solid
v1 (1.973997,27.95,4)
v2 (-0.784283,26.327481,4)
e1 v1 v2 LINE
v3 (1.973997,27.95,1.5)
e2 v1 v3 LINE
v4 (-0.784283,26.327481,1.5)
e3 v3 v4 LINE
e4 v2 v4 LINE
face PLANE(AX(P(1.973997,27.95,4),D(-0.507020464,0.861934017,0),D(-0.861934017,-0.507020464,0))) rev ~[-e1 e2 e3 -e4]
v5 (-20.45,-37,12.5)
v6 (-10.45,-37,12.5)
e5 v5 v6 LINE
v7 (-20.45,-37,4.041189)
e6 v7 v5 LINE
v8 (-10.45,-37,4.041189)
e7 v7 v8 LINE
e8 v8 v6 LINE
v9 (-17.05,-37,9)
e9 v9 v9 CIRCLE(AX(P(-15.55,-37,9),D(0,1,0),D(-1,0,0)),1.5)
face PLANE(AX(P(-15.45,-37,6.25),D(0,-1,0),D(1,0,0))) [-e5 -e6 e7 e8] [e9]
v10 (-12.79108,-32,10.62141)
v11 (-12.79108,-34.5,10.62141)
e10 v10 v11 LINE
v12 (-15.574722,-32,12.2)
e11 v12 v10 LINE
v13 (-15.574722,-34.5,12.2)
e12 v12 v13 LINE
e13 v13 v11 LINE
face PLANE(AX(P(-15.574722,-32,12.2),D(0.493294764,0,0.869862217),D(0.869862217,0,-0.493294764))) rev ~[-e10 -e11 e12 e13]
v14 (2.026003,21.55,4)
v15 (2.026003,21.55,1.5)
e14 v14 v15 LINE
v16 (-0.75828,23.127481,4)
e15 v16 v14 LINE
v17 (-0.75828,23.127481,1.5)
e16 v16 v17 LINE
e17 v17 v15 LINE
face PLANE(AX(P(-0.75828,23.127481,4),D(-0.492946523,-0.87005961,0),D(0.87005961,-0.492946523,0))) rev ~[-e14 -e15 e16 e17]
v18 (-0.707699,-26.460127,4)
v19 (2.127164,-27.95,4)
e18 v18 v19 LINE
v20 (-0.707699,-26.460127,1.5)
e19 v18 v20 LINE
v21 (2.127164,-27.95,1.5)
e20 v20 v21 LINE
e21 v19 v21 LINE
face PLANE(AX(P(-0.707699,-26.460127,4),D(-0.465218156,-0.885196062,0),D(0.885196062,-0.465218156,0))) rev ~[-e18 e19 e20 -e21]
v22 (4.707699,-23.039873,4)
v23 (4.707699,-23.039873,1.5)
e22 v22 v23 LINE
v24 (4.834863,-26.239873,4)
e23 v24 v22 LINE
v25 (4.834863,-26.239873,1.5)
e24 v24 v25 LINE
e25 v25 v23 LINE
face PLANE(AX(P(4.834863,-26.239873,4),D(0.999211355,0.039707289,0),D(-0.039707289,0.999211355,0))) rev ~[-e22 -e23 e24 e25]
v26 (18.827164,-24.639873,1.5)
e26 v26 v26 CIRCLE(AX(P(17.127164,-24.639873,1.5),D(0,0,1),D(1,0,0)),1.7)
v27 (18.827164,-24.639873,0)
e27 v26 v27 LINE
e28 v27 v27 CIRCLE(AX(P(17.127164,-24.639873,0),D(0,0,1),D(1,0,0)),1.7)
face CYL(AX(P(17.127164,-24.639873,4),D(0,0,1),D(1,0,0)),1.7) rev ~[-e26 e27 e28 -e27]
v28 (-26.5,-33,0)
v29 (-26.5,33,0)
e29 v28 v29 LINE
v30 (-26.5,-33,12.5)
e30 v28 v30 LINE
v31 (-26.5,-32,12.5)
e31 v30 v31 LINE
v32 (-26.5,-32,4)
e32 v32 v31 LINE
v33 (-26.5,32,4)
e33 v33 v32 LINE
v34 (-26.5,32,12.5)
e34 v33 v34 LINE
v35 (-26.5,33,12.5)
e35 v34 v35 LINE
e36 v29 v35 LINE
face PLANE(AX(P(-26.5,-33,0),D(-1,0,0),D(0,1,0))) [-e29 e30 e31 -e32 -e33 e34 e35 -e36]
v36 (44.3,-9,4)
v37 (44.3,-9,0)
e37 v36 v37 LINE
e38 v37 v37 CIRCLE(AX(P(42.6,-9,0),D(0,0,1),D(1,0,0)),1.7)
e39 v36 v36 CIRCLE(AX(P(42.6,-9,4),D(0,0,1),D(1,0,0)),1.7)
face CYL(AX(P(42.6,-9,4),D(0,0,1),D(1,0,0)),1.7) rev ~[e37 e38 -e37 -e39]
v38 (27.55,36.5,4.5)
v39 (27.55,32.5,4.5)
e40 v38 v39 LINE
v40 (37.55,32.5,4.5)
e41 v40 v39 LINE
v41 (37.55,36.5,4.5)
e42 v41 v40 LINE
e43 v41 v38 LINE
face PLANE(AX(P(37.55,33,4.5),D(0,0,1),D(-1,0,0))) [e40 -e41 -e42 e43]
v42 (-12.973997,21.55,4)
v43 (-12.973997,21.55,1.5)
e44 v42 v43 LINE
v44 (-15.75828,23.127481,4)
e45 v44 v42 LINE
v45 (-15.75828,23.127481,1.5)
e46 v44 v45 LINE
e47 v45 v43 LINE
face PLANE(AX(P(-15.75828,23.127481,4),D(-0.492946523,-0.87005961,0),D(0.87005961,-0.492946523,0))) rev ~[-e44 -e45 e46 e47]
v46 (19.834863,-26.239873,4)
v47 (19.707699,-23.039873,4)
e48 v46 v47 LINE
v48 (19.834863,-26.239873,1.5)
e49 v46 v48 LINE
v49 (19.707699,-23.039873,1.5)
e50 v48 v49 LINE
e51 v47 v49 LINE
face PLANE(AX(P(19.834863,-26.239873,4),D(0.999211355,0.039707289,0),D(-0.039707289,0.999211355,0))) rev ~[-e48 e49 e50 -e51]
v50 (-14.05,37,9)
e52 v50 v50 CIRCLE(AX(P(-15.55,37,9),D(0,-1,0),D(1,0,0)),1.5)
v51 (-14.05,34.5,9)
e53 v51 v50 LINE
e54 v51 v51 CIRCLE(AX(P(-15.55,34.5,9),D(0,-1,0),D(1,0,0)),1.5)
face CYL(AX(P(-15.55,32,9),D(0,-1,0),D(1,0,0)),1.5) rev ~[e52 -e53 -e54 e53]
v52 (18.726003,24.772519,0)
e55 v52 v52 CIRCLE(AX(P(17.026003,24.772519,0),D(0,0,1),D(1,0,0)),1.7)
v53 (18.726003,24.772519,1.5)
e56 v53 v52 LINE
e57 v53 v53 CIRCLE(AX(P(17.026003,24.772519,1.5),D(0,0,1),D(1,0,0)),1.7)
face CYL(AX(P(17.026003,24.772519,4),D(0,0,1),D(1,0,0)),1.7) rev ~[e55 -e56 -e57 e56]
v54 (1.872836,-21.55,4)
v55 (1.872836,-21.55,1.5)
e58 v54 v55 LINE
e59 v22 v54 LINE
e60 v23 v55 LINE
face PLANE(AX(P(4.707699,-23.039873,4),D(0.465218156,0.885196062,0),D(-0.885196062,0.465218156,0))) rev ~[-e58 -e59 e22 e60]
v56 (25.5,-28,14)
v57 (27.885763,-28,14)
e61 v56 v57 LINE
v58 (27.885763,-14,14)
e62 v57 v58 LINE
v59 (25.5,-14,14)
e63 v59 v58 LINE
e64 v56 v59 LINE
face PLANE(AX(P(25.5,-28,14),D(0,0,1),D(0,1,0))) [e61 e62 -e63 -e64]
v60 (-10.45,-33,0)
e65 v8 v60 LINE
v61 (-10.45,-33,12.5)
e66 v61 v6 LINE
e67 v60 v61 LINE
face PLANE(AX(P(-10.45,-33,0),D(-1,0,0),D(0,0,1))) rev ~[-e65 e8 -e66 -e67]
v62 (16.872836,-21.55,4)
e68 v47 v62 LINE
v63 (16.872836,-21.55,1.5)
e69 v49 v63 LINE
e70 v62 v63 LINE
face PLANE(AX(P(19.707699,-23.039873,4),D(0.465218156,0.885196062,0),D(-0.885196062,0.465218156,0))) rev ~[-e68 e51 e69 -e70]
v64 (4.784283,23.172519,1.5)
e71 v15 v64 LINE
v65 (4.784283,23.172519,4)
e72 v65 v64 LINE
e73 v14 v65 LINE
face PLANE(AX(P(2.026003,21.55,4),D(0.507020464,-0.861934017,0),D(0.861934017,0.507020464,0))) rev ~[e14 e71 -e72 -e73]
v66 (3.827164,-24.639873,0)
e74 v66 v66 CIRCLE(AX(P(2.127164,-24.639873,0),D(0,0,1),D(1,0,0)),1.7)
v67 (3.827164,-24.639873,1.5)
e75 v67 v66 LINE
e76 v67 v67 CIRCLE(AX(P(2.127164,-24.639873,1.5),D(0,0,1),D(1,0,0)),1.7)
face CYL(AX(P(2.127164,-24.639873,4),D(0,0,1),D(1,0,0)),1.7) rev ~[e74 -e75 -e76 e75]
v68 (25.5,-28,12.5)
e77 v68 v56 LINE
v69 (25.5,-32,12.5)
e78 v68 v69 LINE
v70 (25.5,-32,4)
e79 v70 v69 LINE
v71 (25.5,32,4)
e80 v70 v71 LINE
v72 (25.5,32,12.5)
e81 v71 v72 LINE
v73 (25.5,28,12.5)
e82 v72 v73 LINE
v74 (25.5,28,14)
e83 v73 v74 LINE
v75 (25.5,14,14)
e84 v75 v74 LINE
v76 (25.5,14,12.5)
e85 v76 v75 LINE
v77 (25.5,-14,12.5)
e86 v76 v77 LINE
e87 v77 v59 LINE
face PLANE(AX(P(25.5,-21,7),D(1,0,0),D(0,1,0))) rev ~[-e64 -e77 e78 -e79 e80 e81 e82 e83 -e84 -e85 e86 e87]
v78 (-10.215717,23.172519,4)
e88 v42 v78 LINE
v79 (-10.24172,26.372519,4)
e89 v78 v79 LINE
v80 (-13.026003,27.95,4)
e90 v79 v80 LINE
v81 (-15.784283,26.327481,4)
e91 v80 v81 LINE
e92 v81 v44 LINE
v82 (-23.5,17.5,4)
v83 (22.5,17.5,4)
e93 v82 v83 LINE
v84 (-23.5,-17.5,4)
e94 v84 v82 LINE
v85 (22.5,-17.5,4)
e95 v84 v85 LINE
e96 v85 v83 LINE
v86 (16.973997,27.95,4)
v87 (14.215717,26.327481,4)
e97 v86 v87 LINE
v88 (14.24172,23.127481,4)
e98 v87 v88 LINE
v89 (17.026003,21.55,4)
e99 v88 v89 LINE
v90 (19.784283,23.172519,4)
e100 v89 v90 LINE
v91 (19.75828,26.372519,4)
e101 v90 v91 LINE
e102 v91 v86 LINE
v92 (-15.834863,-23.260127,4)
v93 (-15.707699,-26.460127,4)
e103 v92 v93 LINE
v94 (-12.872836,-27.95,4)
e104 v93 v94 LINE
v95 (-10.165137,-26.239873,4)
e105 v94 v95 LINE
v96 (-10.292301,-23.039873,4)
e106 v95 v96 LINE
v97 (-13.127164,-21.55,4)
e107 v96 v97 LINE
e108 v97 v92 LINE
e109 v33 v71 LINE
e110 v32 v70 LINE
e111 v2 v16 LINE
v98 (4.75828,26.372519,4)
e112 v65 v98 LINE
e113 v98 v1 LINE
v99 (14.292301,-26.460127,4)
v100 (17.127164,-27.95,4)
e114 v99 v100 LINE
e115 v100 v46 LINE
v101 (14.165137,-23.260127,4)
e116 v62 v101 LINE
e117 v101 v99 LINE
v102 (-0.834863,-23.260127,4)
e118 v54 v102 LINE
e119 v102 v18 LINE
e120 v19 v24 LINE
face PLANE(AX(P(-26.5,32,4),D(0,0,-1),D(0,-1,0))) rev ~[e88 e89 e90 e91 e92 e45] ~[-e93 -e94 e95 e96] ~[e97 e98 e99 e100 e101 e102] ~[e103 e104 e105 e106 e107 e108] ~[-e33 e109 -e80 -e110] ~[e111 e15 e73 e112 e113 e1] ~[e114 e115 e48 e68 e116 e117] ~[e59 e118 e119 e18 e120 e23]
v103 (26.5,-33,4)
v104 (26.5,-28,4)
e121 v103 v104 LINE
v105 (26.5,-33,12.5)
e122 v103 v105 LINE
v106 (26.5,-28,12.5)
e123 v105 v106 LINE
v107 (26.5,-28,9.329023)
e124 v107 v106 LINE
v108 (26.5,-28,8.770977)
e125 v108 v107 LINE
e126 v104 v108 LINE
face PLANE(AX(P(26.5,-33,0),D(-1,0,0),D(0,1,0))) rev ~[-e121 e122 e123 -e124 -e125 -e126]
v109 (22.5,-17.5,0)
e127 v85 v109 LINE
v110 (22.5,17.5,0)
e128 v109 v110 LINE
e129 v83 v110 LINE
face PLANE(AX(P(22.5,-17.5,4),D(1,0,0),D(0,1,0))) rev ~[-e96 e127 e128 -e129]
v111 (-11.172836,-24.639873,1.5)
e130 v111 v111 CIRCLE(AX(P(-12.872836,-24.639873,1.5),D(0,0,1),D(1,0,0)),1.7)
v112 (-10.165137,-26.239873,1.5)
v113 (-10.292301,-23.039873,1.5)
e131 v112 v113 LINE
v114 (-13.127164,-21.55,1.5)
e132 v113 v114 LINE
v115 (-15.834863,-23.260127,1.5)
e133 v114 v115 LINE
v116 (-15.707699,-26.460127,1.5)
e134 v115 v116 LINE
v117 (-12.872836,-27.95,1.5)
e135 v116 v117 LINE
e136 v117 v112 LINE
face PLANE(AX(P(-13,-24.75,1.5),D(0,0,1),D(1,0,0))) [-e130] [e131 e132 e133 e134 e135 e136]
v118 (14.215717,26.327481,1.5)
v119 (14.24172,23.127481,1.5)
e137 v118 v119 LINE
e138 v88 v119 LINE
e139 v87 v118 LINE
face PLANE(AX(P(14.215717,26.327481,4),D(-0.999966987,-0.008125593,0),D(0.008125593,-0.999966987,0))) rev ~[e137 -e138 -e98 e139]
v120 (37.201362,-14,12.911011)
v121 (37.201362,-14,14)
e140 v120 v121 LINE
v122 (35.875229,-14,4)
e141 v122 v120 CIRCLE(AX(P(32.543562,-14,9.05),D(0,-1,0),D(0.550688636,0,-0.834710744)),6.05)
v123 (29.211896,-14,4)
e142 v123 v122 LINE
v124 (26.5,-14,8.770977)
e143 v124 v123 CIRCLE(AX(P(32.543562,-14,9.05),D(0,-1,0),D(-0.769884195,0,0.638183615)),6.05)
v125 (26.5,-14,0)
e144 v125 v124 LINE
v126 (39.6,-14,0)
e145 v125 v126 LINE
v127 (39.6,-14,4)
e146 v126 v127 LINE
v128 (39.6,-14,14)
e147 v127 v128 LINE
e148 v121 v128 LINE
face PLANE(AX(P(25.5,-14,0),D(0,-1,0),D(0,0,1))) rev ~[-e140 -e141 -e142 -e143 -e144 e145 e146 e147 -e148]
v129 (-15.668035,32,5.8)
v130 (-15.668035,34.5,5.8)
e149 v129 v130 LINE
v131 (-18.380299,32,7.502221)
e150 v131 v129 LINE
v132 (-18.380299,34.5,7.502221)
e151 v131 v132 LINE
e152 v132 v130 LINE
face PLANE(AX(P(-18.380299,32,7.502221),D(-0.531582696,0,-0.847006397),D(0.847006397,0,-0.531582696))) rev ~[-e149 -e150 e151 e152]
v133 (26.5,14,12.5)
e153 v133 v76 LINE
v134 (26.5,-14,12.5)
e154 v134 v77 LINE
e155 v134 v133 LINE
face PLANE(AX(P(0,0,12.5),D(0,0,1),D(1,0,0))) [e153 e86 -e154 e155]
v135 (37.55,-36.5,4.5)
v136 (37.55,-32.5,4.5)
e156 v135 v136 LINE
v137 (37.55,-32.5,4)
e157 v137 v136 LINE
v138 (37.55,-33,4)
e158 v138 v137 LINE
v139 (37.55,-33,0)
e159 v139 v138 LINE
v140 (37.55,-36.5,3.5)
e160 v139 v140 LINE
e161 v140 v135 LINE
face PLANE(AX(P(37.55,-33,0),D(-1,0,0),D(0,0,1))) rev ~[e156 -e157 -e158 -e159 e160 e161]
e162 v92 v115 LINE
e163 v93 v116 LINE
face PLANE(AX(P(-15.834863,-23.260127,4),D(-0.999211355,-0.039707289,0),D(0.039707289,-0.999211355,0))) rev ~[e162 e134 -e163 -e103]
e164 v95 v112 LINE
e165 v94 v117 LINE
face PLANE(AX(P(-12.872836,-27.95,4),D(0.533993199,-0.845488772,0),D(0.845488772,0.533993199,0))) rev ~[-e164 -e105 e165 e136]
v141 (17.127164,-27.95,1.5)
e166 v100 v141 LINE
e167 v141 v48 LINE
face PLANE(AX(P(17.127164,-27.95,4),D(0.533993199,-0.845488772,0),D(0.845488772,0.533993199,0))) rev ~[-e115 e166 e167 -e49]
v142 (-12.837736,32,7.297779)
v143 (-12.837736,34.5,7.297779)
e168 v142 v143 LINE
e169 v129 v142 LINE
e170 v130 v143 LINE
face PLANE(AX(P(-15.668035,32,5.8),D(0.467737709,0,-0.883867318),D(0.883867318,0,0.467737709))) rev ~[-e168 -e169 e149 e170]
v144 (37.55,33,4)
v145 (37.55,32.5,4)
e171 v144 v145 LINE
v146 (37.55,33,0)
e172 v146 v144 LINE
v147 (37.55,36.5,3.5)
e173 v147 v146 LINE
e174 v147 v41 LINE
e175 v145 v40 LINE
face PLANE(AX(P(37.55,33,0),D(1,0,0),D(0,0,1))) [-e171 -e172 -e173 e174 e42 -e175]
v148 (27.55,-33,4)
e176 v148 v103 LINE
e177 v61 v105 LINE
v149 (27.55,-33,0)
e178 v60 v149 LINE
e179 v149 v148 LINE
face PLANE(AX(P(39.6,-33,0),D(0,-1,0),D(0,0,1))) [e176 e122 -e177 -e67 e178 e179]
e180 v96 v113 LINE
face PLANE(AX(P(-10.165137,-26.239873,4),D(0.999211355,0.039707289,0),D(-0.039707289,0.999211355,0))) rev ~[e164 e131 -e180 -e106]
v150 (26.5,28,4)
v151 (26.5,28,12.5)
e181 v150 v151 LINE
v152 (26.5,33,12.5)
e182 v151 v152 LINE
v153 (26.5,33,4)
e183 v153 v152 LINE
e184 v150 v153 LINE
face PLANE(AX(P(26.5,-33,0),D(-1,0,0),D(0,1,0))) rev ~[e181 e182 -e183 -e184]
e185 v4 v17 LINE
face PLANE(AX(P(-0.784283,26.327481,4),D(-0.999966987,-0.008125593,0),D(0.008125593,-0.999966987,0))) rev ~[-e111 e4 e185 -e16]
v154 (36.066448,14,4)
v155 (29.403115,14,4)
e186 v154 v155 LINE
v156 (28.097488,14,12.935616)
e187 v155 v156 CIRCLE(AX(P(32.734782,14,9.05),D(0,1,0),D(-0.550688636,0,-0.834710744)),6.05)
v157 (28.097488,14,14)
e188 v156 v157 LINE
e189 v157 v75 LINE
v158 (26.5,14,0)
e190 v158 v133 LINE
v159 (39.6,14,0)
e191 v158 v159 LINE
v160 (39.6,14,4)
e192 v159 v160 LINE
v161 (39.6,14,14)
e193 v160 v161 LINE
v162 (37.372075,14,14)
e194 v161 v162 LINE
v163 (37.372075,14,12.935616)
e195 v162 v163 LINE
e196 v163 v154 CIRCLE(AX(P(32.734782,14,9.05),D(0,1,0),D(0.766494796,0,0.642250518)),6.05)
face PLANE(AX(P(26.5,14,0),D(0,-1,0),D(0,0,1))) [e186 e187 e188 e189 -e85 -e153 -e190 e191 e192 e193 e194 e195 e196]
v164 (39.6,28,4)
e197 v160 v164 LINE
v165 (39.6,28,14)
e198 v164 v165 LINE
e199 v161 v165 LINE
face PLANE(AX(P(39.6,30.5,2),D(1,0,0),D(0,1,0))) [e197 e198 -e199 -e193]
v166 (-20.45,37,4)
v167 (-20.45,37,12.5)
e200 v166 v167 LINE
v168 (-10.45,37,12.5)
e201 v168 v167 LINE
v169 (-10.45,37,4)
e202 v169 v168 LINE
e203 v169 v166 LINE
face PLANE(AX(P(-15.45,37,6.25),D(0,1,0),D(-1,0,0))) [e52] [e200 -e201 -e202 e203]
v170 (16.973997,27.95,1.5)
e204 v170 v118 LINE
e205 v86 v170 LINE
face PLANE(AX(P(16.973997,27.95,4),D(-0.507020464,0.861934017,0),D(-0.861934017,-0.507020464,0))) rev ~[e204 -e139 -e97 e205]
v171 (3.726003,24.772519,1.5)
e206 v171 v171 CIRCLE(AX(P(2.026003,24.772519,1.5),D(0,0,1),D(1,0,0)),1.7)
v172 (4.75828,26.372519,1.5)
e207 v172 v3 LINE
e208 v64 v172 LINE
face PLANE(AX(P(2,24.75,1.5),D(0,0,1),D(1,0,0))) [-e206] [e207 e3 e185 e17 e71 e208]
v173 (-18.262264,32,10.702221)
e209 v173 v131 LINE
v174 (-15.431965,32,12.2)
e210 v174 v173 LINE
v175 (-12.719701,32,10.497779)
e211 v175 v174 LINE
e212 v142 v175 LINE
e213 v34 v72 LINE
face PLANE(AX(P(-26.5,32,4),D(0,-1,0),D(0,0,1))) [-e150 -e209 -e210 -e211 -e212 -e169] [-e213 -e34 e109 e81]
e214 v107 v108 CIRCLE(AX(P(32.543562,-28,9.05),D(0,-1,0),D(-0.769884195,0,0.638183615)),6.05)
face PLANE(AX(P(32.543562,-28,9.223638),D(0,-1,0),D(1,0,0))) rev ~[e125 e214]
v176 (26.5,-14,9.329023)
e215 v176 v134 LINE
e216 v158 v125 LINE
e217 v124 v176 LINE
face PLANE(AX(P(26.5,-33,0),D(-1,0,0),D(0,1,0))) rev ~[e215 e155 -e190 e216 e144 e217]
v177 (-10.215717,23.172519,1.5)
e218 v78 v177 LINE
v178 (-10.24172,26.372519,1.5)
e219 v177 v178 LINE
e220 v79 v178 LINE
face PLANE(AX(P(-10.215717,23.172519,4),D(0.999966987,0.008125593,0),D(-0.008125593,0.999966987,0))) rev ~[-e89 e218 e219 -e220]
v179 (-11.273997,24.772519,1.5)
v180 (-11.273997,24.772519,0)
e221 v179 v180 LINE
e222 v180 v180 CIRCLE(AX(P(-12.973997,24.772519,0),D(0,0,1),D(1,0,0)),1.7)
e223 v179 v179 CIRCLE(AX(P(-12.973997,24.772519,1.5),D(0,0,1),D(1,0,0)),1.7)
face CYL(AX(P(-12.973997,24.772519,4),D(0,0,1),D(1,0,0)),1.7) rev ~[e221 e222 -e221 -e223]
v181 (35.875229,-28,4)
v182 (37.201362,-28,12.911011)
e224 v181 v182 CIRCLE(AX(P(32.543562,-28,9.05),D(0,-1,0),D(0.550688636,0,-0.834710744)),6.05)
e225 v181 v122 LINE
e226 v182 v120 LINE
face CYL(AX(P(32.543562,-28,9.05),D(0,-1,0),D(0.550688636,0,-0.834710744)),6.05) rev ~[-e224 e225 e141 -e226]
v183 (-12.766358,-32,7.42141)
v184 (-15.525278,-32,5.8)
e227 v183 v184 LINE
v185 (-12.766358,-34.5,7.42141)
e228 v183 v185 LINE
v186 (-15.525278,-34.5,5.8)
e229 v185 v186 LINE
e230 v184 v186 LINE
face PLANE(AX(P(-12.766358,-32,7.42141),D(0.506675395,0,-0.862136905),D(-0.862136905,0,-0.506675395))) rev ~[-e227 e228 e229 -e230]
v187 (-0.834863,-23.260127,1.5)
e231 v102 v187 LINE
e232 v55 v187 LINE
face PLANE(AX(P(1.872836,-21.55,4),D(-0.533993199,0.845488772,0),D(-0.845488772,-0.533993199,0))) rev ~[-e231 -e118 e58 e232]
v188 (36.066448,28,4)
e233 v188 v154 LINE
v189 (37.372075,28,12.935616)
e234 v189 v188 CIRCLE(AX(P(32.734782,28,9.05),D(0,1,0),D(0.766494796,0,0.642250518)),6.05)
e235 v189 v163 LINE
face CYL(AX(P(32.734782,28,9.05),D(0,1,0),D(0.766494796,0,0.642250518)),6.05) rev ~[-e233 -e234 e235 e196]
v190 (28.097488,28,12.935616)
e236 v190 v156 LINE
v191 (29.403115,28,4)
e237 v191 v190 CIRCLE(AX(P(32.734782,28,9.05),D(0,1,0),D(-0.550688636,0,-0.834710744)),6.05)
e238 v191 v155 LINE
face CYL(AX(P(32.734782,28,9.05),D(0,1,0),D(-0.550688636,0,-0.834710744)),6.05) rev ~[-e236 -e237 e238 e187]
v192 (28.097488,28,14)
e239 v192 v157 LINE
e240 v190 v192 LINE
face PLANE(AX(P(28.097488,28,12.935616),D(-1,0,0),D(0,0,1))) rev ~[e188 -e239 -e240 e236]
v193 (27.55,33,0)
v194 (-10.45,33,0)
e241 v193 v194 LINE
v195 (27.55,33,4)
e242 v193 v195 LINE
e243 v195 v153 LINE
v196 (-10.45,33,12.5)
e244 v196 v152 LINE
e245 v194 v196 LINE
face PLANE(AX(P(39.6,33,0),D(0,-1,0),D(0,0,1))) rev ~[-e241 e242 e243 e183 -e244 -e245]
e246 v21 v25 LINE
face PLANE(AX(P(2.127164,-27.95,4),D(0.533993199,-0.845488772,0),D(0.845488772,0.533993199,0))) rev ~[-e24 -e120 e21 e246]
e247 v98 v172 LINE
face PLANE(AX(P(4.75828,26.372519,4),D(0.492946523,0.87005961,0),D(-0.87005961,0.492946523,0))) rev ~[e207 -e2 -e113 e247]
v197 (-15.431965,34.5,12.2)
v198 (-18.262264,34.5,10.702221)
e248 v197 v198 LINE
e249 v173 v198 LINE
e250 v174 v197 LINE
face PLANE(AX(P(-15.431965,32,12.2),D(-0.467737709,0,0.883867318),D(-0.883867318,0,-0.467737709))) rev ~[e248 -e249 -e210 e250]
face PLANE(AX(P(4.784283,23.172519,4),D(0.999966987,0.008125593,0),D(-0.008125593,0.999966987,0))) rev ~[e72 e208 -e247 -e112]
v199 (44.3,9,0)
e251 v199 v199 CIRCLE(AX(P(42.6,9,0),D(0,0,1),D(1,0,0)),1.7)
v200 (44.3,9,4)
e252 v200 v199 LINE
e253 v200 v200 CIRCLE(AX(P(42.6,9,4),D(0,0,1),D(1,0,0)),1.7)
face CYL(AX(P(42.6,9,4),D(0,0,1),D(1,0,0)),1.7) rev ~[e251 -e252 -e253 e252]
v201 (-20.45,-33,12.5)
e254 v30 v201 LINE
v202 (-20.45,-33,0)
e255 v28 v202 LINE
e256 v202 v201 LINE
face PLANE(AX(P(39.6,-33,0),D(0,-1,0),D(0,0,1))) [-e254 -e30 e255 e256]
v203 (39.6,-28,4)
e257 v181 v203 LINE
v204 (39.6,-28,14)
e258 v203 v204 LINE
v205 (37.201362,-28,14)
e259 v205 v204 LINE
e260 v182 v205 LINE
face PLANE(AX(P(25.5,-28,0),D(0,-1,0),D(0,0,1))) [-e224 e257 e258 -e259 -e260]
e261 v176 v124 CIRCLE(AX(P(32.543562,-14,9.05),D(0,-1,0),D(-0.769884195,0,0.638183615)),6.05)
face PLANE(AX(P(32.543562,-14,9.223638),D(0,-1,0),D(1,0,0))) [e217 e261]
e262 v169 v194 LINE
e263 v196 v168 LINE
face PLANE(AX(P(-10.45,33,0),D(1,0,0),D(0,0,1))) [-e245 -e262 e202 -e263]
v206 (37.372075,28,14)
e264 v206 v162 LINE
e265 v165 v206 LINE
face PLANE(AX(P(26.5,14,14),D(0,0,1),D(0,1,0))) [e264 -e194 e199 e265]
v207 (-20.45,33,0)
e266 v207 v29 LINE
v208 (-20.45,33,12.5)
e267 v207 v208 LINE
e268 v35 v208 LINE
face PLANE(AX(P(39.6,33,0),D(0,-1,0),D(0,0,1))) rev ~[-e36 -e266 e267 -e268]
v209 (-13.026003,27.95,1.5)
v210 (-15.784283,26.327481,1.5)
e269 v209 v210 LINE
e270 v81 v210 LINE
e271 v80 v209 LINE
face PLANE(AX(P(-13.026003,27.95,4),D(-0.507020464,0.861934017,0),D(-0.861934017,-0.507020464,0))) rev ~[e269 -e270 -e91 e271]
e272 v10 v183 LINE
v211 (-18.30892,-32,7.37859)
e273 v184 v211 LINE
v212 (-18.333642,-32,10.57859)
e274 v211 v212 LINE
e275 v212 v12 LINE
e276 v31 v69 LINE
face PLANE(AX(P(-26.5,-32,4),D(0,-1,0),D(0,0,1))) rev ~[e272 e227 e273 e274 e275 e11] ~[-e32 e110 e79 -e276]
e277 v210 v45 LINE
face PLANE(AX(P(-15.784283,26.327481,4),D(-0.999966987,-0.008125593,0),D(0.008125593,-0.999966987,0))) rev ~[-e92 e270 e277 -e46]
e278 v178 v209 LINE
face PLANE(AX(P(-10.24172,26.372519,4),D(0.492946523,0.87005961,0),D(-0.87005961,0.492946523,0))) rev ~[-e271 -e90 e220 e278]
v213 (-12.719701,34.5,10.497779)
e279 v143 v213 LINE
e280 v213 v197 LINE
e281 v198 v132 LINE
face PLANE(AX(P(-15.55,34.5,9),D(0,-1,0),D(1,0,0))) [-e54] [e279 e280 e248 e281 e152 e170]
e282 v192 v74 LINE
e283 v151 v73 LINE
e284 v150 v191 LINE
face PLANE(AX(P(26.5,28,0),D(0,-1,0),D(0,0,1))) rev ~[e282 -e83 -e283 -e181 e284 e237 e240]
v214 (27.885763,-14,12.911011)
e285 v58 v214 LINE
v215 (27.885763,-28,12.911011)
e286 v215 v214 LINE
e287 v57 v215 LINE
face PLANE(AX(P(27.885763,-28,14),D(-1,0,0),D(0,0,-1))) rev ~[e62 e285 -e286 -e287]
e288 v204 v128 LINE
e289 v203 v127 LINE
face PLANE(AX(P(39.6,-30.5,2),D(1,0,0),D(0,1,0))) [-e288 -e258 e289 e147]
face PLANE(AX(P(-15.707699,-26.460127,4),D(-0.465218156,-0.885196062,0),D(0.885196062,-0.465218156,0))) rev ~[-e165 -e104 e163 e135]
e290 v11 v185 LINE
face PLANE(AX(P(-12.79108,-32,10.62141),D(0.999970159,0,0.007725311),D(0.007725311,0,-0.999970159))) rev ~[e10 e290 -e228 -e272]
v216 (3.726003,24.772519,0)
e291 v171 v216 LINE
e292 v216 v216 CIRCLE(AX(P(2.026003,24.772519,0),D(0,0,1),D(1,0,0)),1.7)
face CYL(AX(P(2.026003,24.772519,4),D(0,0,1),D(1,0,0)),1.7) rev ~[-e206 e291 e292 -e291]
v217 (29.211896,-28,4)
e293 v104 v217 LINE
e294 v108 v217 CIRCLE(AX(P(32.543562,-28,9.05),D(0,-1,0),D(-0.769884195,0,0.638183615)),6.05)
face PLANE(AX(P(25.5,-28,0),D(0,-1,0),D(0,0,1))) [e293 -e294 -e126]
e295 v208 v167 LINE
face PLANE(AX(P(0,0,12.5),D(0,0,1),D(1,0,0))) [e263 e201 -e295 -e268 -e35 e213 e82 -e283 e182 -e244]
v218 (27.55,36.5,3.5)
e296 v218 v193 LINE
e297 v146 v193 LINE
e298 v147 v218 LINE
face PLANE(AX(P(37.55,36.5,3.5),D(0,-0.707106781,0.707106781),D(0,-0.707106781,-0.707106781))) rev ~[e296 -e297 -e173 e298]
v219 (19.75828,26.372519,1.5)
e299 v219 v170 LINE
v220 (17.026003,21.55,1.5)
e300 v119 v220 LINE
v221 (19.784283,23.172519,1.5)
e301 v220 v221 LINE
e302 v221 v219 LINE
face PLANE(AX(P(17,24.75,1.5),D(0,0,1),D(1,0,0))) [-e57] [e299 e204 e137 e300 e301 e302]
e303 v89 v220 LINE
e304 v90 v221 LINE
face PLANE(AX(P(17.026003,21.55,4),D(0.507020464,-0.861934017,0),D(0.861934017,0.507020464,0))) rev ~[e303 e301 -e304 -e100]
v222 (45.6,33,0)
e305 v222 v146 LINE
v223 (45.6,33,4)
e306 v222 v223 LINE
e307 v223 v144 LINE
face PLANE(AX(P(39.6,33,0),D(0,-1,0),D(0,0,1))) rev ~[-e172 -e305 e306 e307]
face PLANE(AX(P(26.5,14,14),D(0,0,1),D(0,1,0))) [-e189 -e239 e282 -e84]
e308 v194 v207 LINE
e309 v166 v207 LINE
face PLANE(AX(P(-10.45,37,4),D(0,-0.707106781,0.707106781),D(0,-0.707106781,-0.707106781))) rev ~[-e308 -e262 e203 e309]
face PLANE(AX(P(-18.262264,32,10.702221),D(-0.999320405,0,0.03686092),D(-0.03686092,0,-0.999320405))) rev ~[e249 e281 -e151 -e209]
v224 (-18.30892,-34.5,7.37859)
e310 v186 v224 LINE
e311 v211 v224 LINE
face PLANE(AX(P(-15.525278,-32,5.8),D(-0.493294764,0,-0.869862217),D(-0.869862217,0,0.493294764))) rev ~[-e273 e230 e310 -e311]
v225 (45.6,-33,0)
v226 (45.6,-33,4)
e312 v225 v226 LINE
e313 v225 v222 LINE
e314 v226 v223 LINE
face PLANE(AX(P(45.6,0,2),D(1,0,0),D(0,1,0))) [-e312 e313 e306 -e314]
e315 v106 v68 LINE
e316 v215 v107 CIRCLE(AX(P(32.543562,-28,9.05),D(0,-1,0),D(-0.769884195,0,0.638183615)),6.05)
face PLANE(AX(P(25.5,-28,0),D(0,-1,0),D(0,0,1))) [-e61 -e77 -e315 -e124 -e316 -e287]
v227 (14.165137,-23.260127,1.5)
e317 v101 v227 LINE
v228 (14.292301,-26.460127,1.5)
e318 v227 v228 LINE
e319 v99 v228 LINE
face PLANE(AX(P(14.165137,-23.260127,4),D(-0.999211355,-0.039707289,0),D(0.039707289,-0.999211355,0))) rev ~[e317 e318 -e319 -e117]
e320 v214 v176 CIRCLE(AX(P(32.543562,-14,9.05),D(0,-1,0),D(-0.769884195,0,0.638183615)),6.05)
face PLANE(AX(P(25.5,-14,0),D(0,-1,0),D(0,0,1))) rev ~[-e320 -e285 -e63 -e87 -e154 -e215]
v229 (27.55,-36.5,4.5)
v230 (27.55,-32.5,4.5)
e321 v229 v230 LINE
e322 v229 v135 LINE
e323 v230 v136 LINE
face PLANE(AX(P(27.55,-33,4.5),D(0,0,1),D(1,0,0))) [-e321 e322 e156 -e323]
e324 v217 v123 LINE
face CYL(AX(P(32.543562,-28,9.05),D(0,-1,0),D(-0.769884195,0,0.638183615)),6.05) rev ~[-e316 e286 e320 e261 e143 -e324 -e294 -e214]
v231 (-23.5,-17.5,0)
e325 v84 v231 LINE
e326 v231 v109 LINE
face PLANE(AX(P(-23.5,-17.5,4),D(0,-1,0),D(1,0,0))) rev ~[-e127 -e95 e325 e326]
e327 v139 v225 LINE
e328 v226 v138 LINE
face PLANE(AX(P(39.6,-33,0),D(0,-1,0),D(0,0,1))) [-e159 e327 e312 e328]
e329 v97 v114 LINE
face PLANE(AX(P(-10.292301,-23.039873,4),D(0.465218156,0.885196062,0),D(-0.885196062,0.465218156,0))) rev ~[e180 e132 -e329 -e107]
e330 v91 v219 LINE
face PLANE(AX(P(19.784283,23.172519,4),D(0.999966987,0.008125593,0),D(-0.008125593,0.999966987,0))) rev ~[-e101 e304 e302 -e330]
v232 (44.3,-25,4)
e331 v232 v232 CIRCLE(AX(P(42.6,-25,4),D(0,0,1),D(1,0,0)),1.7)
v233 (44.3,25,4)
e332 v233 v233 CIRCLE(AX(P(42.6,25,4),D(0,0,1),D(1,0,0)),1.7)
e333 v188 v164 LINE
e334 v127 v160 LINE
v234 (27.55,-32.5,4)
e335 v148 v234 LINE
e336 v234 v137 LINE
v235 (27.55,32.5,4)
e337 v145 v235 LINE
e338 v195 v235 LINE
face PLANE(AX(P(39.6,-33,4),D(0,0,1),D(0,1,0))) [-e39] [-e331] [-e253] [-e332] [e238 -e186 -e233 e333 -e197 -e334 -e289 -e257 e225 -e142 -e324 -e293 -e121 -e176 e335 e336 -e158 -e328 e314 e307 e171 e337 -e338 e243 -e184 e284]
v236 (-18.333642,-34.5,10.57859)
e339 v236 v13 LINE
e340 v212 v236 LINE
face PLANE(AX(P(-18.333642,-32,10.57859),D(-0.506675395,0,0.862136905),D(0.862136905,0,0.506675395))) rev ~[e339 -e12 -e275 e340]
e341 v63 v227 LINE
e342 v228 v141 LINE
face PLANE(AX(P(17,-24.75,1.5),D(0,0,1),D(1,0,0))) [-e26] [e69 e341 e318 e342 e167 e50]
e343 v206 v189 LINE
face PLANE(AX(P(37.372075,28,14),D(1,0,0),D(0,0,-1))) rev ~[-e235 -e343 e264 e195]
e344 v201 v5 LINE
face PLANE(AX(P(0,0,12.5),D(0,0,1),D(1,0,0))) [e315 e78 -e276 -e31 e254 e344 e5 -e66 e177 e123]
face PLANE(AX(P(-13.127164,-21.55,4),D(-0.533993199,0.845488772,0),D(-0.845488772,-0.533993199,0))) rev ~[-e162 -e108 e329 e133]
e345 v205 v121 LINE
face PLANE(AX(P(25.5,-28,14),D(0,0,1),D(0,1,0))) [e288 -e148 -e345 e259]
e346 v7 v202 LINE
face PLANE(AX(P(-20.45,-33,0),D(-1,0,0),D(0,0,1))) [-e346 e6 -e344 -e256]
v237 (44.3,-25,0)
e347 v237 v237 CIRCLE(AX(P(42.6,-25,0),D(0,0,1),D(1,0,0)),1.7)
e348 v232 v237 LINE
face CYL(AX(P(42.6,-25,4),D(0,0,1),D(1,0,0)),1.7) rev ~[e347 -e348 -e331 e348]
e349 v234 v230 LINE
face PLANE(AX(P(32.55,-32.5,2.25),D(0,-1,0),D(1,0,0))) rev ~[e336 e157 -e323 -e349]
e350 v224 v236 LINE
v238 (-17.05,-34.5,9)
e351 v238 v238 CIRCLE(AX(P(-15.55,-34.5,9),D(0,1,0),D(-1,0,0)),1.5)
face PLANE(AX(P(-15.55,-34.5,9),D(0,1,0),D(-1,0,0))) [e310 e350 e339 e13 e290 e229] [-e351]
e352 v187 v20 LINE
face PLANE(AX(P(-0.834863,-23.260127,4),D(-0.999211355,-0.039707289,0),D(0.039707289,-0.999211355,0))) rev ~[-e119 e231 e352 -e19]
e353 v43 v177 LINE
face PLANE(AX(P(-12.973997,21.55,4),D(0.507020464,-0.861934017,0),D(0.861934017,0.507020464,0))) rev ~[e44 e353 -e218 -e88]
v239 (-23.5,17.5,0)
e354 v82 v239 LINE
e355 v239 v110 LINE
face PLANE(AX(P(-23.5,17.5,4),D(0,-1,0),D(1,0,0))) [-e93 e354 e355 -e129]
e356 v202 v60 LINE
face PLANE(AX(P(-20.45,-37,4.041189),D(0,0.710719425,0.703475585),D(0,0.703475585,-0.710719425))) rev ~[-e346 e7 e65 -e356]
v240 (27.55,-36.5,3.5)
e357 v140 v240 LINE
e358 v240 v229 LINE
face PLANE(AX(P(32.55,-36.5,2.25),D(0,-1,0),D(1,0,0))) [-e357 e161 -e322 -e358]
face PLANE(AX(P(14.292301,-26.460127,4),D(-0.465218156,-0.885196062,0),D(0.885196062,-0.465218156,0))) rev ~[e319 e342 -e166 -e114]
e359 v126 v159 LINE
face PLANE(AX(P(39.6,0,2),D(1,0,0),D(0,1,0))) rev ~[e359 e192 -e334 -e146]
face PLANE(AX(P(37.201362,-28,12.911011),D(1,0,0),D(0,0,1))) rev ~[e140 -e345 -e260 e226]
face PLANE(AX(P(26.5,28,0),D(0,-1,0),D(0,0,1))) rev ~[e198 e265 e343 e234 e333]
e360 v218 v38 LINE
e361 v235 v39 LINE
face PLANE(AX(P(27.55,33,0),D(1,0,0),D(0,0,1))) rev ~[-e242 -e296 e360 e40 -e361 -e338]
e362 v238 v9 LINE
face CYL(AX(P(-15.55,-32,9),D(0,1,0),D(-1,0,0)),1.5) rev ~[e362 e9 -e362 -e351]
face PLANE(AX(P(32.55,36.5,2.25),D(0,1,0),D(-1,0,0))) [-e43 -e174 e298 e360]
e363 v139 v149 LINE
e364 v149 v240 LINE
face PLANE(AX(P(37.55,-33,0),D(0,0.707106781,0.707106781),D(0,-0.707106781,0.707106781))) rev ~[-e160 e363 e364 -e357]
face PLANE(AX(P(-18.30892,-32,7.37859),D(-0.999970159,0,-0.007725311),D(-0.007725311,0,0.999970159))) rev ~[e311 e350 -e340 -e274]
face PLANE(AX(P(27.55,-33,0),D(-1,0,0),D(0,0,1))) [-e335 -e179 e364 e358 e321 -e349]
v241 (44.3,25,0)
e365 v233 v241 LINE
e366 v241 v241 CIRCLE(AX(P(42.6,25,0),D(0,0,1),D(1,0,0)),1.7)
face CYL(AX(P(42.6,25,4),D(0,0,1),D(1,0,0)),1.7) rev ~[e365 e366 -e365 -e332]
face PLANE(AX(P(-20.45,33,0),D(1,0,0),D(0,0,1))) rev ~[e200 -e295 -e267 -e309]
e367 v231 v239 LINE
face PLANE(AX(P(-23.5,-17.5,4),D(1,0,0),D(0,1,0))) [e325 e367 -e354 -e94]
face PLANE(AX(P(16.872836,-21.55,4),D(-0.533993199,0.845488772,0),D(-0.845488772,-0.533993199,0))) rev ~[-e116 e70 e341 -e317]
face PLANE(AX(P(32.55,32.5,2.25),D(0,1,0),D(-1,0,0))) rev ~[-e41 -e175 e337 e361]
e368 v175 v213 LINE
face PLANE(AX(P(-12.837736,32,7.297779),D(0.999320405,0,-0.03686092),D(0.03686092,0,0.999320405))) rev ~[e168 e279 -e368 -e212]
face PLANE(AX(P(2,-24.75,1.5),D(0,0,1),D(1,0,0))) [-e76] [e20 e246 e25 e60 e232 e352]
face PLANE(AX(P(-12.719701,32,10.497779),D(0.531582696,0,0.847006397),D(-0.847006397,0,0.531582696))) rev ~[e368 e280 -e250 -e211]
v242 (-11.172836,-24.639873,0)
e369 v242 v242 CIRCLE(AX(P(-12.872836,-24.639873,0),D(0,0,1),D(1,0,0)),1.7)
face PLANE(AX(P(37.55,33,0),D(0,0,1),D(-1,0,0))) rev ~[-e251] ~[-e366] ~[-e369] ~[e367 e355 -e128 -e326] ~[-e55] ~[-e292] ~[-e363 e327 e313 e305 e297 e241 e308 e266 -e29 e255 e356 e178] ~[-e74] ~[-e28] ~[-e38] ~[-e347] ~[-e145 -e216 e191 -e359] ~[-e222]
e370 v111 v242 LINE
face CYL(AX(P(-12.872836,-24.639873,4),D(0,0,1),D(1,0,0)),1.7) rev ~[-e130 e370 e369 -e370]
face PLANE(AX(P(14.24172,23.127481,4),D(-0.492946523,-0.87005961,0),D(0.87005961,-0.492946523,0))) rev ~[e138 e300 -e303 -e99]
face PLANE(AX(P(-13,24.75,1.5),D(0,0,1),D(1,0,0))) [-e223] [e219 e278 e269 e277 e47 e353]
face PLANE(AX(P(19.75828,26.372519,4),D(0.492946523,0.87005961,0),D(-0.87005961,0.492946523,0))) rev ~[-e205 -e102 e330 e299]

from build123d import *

# Parameters (mm, degrees)
F0_W           = 53
F0_H           = 66
F1_DEPTH       = 12.5
F2_W           = 64
F2_H           = 8.5
F3_DEPTH       = 52
F4_W           = 46
F4_H           = 35
F5_DEPTH       = 5
F6_W           = 14
F6_H           = 12.5
F7_DEPTH       = 1
F8_W           = 14
F8_H           = 14
F9_DEPTH       = 14.1
F11_DEPTH      = 14
F12_W          = 14
F12_H          = 14
F13_DEPTH      = 1
F13_DEPTH_BACK = 13.1
F15_DEPTH      = 14
F16_W          = 5
F16_H          = 4
F17_DEPTH      = 13.1
F18_W          = 5
F18_H          = 4
F19_DEPTH      = 13.1
F20_W          = 66
F20_H          = 4
F21_DEPTH      = 6
F22_W          = 10
F22_H          = 4.5
F23_DEPTH      = 0.5
F23_DEPTH_BACK = 3.5
F25_DEPTH      = 10
F26_W          = 10
F26_H          = 12.5
F27_DEPTH      = 4
F29_DEPTH      = 10
F30_W          = 10
F30_H          = 4.5
F31_DEPTH      = 0.5
F31_DEPTH_BACK = 3.5
F33_DEPTH      = 10
F34_W          = 10
F34_H          = 12.5
F35_DEPTH      = 4
F37_DEPTH      = 10
F39_DEPTH      = 2.5
F40_R          = 1.5
F41_DEPTH      = 6
F43_DEPTH      = 2.5
F44_R          = 1.5
F45_DEPTH      = 6
F46_R          = 1.7
F47_DEPTH      = 5
F49_DEPTH      = 2.5
F50_R          = 1.7
F51_DEPTH      = 6


with BuildPart() as f1:
    # F0 (on Top) → F1 (new body)
    with BuildSketch(Plane.XY):
        Rectangle(F0_W, F0_H)
    extrude(amount=F1_DEPTH)

    # F2 (on face) → F3 (cut)
    with BuildSketch(Plane(origin=(-26.5, 0, 0), x_dir=(0, -1, 0), z_dir=(-1, 0, 0))):
        with Locations((0, 8.25)):
            Rectangle(F2_W, F2_H)
    extrude(amount=-F3_DEPTH, mode=Mode.SUBTRACT)

    # F4 (on face) → F5 (cut)
    with BuildSketch(Plane.XY.offset(4)):
        with Locations((-0.5, 0)):
            Rectangle(F4_W, F4_H)
    extrude(amount=-F5_DEPTH, mode=Mode.SUBTRACT)

    # F6 (on face) → F7 (cut)
    with BuildSketch(Plane.YZ.offset(26.5)):
        with Locations((-21, 6.25)):
            Rectangle(F6_W, F6_H)
    extrude(amount=-F7_DEPTH, mode=Mode.SUBTRACT)

    # F8 (on face) → F9 (join)
    with BuildSketch(Plane.YZ.offset(25.5)):
        with Locations((-21, 7)):
            Rectangle(F8_W, F8_H)
    extrude(amount=F9_DEPTH)

    # F10 (on face) → F11 (cut)
    with BuildSketch(Plane.XZ.offset(28)):
        with BuildLine():
            Line((27.8857629746, 14), (27.8857629746, 12.911010872))
            ThreePointArc((27.8857629746, 12.911010872), (26.5594651822, 8.159449016), (29.2118961029, 4))
            Line((29.2118961029, 4), (35.8752286024, 4))
            ThreePointArc((35.8752286024, 4), (38.5276595231, 8.159449016), (37.2013617307, 12.911010872))
            Line((37.2013617307, 12.911010872), (37.2013617307, 14))
            Line((37.2013617307, 14), (27.8857629746, 14))
        make_face()
    extrude(amount=-F11_DEPTH, mode=Mode.SUBTRACT)

    # F12 (on face) → F13 (join, two sides)
    with BuildSketch(Plane.YZ.offset(26.5)) as f13_sk:
        with Locations((21, 7)):
            Rectangle(F12_W, F12_H)
    extrude(amount=-F13_DEPTH)
    extrude(f13_sk.sketch, amount=F13_DEPTH_BACK)

    # F14 (on face) → F15 (cut)
    with BuildSketch(Plane(origin=(0, 28, 0), x_dir=(-1, 0, 0), z_dir=(0, 1, 0))):
        with BuildLine():
            Line((-37.3720750213, 14), (-37.3720750213, 12.935615631))
            ThreePointArc((-37.3720750213, 12.935615631), (-38.7212150513, 8.175292403), (-36.0664477535, 4))
            Line((-36.0664477535, 4), (-29.4031152539, 4))
            ThreePointArc((-29.4031152539, 4), (-26.7483479561, 8.175292403), (-28.0974879861, 12.935615631))
            Line((-28.0974879861, 12.935615631), (-28.0974879861, 14))
            Line((-28.0974879861, 14), (-37.3720750213, 14))
        make_face()
    extrude(amount=-F15_DEPTH, mode=Mode.SUBTRACT)

    # F16 (on face) → F17 (join, through all)
    with BuildSketch(Plane.YZ.offset(26.5)):
        with Locations((-30.5, 2)):
            Rectangle(F16_W, F16_H)
    extrude(amount=F17_DEPTH)

    # F18 (on face) → F19 (join, through all)
    with BuildSketch(Plane.YZ.offset(26.5)):
        with Locations((30.5, 2)):
            Rectangle(F18_W, F18_H)
    extrude(amount=F19_DEPTH)

    # F20 (on face) → F21 (join)
    with BuildSketch(Plane.YZ.offset(39.6)):
        with Locations((0, 2)):
            Rectangle(F20_W, F20_H)
    extrude(amount=F21_DEPTH)

    # F22 (on face) → F23 (join, two sides)
    with BuildSketch(Plane.XZ.offset(33)) as f23_sk:
        with Locations((32.55, 2.25)):
            Rectangle(F22_W, F22_H)
    extrude(amount=-F23_DEPTH)
    extrude(f23_sk.sketch, amount=F23_DEPTH_BACK)

    # F24 (on face) → F25 (cut)
    with BuildSketch(Plane.YZ.offset(37.55)):
        Polygon((-36.5, 0), (-33, 0), (-36.5, 3.5), align=None)
    extrude(amount=-F25_DEPTH, mode=Mode.SUBTRACT)

    # F26 (on face) → F27 (join)
    with BuildSketch(Plane.XZ.offset(33)):
        with Locations((-15.45, 6.25)):
            Rectangle(F26_W, F26_H)
    extrude(amount=F27_DEPTH)

    # F28 (on face) → F29 (cut, through all)
    with BuildSketch(Plane(origin=(-20.45, 0, 0), x_dir=(0, -1, 0), z_dir=(-1, 0, 0))):
        Polygon((33, 0), (37, 0), (37, 4.0411888622), align=None)
    extrude(amount=-F29_DEPTH, mode=Mode.SUBTRACT)

    # F30 (on face) → F31 (join, two sides)
    with BuildSketch(Plane(origin=(0, 33, 0), x_dir=(-1, 0, 0), z_dir=(0, 1, 0))) as f31_sk:
        with Locations((-32.55, 2.25)):
            Rectangle(F30_W, F30_H)
    extrude(amount=-F31_DEPTH)
    extrude(f31_sk.sketch, amount=F31_DEPTH_BACK)

    # F32 (on face) → F33 (cut, through all)
    with BuildSketch(Plane.YZ.offset(37.55)):
        Polygon((36.5, 3.5), (33, 0), (36.5, 0), align=None)
    extrude(amount=-F33_DEPTH, mode=Mode.SUBTRACT)

    # F34 (on face) → F35 (join)
    with BuildSketch(Plane(origin=(0, 33, 0), x_dir=(-1, 0, 0), z_dir=(0, 1, 0))):
        with Locations((15.45, 6.25)):
            Rectangle(F34_W, F34_H)
    extrude(amount=F35_DEPTH)

    # F36 (on face) → F37 (cut, through all)
    with BuildSketch(Plane.YZ.offset(-10.45)):
        Polygon((37, 4), (33, 0), (37, 0), align=None)
    extrude(amount=-F37_DEPTH, mode=Mode.SUBTRACT)

    # F38 (on face) → F39 (cut)
    with BuildSketch(Plane(origin=(0, -32, 0), x_dir=(-1, 0, 0), z_dir=(0, 1, 0))):
        Polygon((15.5747217333, 12.2), (12.7910795745, 10.6214096491), (12.7663578412, 7.4214096491), (15.5252782667, 5.8), (18.3089204255, 7.3785903509), (18.3336421588, 10.5785903509), align=None)
    extrude(amount=-F39_DEPTH, mode=Mode.SUBTRACT)

    # F40 (on face) → F41 (cut)
    with BuildSketch(Plane(origin=(0, -32, 0), x_dir=(-1, 0, 0), z_dir=(0, 1, 0))):
        with Locations((15.55, 9)):
            Circle(F40_R)
    extrude(amount=-F41_DEPTH, mode=Mode.SUBTRACT)

    # F42 (on face) → F43 (cut)
    with BuildSketch(Plane.XZ.offset(-32)):
        Polygon((-15.6680351614, 5.8), (-12.8377362886, 7.2977785517), (-12.7197011272, 10.4977785517), (-15.4319648386, 12.2), (-18.2622637114, 10.7022214483), (-18.3802988728, 7.5022214483), align=None)
    extrude(amount=-F43_DEPTH, mode=Mode.SUBTRACT)

    # F44 (on face) → F45 (cut)
    with BuildSketch(Plane.XZ.offset(-32)):
        with Locations((-15.55, 9)):
            Circle(F44_R)
    extrude(amount=-F45_DEPTH, mode=Mode.SUBTRACT)

    # F46 (on face) → F47 (cut)
    with BuildSketch(Plane.XY.offset(4)):
        with Locations((42.6, -25)):
            Circle(F46_R)
        with Locations((42.6, -9)):
            Circle(F46_R)
        with Locations((42.6, 9)):
            Circle(F46_R)
        with Locations((42.6, 25)):
            Circle(F46_R)
    extrude(amount=-F47_DEPTH, mode=Mode.SUBTRACT)

    # F48 (on face) → F49 (cut)
    with BuildSketch(Plane.XY.offset(4)):
        Polygon((-12.9739972428, 21.55), (-10.2157173293, 23.1725190483), (-10.2417200865, 26.3725190483), (-13.0260027572, 27.95), (-15.7842826707, 26.3274809517), (-15.7582799135, 23.1274809517), align=None)
        Polygon((2.0260027572, 21.55), (4.7842826707, 23.1725190483), (4.7582799135, 26.3725190483), (1.9739972428, 27.95), (-0.7842826707, 26.3274809517), (-0.7582799135, 23.1274809517), align=None)
        Polygon((17.0260027572, 21.55), (19.7842826707, 23.1725190483), (19.7582799135, 26.3725190483), (16.9739972428, 27.95), (14.2157173293, 26.3274809517), (14.2417200865, 23.1274809517), align=None)
        Polygon((-12.8728363868, -27.95), (-10.1651369013, -26.2398730805), (-10.2923005145, -23.0398730805), (-13.1271636132, -21.55), (-15.8348630987, -23.2601269195), (-15.7076994855, -26.4601269195), align=None)
        Polygon((2.1271636132, -27.95), (4.8348630987, -26.2398730805), (4.7076994855, -23.0398730805), (1.8728363868, -21.55), (-0.8348630987, -23.2601269195), (-0.7076994855, -26.4601269195), align=None)
        Polygon((17.1271636132, -27.95), (19.8348630987, -26.2398730805), (19.7076994855, -23.0398730805), (16.8728363868, -21.55), (14.1651369013, -23.2601269195), (14.2923005145, -26.4601269195), align=None)
    extrude(amount=-F49_DEPTH, mode=Mode.SUBTRACT)

    # F50 (on face) → F51 (cut)
    with BuildSketch(Plane.XY.offset(4)):
        with Locations((-12.9739972428, 24.7725190483)):
            Circle(F50_R)
        with Locations((2.0260027572, 24.7725190483)):
            Circle(F50_R)
        with Locations((17.0260027572, 24.7725190483)):
            Circle(F50_R)
        with Locations((17.1271636132, -24.6398730805)):
            Circle(F50_R)
        with Locations((2.1271636132, -24.6398730805)):
            Circle(F50_R)
        with Locations((-12.8728363868, -24.6398730805)):
            Circle(F50_R)
    extrude(amount=-F51_DEPTH, mode=Mode.SUBTRACT)


solid = f1.part
